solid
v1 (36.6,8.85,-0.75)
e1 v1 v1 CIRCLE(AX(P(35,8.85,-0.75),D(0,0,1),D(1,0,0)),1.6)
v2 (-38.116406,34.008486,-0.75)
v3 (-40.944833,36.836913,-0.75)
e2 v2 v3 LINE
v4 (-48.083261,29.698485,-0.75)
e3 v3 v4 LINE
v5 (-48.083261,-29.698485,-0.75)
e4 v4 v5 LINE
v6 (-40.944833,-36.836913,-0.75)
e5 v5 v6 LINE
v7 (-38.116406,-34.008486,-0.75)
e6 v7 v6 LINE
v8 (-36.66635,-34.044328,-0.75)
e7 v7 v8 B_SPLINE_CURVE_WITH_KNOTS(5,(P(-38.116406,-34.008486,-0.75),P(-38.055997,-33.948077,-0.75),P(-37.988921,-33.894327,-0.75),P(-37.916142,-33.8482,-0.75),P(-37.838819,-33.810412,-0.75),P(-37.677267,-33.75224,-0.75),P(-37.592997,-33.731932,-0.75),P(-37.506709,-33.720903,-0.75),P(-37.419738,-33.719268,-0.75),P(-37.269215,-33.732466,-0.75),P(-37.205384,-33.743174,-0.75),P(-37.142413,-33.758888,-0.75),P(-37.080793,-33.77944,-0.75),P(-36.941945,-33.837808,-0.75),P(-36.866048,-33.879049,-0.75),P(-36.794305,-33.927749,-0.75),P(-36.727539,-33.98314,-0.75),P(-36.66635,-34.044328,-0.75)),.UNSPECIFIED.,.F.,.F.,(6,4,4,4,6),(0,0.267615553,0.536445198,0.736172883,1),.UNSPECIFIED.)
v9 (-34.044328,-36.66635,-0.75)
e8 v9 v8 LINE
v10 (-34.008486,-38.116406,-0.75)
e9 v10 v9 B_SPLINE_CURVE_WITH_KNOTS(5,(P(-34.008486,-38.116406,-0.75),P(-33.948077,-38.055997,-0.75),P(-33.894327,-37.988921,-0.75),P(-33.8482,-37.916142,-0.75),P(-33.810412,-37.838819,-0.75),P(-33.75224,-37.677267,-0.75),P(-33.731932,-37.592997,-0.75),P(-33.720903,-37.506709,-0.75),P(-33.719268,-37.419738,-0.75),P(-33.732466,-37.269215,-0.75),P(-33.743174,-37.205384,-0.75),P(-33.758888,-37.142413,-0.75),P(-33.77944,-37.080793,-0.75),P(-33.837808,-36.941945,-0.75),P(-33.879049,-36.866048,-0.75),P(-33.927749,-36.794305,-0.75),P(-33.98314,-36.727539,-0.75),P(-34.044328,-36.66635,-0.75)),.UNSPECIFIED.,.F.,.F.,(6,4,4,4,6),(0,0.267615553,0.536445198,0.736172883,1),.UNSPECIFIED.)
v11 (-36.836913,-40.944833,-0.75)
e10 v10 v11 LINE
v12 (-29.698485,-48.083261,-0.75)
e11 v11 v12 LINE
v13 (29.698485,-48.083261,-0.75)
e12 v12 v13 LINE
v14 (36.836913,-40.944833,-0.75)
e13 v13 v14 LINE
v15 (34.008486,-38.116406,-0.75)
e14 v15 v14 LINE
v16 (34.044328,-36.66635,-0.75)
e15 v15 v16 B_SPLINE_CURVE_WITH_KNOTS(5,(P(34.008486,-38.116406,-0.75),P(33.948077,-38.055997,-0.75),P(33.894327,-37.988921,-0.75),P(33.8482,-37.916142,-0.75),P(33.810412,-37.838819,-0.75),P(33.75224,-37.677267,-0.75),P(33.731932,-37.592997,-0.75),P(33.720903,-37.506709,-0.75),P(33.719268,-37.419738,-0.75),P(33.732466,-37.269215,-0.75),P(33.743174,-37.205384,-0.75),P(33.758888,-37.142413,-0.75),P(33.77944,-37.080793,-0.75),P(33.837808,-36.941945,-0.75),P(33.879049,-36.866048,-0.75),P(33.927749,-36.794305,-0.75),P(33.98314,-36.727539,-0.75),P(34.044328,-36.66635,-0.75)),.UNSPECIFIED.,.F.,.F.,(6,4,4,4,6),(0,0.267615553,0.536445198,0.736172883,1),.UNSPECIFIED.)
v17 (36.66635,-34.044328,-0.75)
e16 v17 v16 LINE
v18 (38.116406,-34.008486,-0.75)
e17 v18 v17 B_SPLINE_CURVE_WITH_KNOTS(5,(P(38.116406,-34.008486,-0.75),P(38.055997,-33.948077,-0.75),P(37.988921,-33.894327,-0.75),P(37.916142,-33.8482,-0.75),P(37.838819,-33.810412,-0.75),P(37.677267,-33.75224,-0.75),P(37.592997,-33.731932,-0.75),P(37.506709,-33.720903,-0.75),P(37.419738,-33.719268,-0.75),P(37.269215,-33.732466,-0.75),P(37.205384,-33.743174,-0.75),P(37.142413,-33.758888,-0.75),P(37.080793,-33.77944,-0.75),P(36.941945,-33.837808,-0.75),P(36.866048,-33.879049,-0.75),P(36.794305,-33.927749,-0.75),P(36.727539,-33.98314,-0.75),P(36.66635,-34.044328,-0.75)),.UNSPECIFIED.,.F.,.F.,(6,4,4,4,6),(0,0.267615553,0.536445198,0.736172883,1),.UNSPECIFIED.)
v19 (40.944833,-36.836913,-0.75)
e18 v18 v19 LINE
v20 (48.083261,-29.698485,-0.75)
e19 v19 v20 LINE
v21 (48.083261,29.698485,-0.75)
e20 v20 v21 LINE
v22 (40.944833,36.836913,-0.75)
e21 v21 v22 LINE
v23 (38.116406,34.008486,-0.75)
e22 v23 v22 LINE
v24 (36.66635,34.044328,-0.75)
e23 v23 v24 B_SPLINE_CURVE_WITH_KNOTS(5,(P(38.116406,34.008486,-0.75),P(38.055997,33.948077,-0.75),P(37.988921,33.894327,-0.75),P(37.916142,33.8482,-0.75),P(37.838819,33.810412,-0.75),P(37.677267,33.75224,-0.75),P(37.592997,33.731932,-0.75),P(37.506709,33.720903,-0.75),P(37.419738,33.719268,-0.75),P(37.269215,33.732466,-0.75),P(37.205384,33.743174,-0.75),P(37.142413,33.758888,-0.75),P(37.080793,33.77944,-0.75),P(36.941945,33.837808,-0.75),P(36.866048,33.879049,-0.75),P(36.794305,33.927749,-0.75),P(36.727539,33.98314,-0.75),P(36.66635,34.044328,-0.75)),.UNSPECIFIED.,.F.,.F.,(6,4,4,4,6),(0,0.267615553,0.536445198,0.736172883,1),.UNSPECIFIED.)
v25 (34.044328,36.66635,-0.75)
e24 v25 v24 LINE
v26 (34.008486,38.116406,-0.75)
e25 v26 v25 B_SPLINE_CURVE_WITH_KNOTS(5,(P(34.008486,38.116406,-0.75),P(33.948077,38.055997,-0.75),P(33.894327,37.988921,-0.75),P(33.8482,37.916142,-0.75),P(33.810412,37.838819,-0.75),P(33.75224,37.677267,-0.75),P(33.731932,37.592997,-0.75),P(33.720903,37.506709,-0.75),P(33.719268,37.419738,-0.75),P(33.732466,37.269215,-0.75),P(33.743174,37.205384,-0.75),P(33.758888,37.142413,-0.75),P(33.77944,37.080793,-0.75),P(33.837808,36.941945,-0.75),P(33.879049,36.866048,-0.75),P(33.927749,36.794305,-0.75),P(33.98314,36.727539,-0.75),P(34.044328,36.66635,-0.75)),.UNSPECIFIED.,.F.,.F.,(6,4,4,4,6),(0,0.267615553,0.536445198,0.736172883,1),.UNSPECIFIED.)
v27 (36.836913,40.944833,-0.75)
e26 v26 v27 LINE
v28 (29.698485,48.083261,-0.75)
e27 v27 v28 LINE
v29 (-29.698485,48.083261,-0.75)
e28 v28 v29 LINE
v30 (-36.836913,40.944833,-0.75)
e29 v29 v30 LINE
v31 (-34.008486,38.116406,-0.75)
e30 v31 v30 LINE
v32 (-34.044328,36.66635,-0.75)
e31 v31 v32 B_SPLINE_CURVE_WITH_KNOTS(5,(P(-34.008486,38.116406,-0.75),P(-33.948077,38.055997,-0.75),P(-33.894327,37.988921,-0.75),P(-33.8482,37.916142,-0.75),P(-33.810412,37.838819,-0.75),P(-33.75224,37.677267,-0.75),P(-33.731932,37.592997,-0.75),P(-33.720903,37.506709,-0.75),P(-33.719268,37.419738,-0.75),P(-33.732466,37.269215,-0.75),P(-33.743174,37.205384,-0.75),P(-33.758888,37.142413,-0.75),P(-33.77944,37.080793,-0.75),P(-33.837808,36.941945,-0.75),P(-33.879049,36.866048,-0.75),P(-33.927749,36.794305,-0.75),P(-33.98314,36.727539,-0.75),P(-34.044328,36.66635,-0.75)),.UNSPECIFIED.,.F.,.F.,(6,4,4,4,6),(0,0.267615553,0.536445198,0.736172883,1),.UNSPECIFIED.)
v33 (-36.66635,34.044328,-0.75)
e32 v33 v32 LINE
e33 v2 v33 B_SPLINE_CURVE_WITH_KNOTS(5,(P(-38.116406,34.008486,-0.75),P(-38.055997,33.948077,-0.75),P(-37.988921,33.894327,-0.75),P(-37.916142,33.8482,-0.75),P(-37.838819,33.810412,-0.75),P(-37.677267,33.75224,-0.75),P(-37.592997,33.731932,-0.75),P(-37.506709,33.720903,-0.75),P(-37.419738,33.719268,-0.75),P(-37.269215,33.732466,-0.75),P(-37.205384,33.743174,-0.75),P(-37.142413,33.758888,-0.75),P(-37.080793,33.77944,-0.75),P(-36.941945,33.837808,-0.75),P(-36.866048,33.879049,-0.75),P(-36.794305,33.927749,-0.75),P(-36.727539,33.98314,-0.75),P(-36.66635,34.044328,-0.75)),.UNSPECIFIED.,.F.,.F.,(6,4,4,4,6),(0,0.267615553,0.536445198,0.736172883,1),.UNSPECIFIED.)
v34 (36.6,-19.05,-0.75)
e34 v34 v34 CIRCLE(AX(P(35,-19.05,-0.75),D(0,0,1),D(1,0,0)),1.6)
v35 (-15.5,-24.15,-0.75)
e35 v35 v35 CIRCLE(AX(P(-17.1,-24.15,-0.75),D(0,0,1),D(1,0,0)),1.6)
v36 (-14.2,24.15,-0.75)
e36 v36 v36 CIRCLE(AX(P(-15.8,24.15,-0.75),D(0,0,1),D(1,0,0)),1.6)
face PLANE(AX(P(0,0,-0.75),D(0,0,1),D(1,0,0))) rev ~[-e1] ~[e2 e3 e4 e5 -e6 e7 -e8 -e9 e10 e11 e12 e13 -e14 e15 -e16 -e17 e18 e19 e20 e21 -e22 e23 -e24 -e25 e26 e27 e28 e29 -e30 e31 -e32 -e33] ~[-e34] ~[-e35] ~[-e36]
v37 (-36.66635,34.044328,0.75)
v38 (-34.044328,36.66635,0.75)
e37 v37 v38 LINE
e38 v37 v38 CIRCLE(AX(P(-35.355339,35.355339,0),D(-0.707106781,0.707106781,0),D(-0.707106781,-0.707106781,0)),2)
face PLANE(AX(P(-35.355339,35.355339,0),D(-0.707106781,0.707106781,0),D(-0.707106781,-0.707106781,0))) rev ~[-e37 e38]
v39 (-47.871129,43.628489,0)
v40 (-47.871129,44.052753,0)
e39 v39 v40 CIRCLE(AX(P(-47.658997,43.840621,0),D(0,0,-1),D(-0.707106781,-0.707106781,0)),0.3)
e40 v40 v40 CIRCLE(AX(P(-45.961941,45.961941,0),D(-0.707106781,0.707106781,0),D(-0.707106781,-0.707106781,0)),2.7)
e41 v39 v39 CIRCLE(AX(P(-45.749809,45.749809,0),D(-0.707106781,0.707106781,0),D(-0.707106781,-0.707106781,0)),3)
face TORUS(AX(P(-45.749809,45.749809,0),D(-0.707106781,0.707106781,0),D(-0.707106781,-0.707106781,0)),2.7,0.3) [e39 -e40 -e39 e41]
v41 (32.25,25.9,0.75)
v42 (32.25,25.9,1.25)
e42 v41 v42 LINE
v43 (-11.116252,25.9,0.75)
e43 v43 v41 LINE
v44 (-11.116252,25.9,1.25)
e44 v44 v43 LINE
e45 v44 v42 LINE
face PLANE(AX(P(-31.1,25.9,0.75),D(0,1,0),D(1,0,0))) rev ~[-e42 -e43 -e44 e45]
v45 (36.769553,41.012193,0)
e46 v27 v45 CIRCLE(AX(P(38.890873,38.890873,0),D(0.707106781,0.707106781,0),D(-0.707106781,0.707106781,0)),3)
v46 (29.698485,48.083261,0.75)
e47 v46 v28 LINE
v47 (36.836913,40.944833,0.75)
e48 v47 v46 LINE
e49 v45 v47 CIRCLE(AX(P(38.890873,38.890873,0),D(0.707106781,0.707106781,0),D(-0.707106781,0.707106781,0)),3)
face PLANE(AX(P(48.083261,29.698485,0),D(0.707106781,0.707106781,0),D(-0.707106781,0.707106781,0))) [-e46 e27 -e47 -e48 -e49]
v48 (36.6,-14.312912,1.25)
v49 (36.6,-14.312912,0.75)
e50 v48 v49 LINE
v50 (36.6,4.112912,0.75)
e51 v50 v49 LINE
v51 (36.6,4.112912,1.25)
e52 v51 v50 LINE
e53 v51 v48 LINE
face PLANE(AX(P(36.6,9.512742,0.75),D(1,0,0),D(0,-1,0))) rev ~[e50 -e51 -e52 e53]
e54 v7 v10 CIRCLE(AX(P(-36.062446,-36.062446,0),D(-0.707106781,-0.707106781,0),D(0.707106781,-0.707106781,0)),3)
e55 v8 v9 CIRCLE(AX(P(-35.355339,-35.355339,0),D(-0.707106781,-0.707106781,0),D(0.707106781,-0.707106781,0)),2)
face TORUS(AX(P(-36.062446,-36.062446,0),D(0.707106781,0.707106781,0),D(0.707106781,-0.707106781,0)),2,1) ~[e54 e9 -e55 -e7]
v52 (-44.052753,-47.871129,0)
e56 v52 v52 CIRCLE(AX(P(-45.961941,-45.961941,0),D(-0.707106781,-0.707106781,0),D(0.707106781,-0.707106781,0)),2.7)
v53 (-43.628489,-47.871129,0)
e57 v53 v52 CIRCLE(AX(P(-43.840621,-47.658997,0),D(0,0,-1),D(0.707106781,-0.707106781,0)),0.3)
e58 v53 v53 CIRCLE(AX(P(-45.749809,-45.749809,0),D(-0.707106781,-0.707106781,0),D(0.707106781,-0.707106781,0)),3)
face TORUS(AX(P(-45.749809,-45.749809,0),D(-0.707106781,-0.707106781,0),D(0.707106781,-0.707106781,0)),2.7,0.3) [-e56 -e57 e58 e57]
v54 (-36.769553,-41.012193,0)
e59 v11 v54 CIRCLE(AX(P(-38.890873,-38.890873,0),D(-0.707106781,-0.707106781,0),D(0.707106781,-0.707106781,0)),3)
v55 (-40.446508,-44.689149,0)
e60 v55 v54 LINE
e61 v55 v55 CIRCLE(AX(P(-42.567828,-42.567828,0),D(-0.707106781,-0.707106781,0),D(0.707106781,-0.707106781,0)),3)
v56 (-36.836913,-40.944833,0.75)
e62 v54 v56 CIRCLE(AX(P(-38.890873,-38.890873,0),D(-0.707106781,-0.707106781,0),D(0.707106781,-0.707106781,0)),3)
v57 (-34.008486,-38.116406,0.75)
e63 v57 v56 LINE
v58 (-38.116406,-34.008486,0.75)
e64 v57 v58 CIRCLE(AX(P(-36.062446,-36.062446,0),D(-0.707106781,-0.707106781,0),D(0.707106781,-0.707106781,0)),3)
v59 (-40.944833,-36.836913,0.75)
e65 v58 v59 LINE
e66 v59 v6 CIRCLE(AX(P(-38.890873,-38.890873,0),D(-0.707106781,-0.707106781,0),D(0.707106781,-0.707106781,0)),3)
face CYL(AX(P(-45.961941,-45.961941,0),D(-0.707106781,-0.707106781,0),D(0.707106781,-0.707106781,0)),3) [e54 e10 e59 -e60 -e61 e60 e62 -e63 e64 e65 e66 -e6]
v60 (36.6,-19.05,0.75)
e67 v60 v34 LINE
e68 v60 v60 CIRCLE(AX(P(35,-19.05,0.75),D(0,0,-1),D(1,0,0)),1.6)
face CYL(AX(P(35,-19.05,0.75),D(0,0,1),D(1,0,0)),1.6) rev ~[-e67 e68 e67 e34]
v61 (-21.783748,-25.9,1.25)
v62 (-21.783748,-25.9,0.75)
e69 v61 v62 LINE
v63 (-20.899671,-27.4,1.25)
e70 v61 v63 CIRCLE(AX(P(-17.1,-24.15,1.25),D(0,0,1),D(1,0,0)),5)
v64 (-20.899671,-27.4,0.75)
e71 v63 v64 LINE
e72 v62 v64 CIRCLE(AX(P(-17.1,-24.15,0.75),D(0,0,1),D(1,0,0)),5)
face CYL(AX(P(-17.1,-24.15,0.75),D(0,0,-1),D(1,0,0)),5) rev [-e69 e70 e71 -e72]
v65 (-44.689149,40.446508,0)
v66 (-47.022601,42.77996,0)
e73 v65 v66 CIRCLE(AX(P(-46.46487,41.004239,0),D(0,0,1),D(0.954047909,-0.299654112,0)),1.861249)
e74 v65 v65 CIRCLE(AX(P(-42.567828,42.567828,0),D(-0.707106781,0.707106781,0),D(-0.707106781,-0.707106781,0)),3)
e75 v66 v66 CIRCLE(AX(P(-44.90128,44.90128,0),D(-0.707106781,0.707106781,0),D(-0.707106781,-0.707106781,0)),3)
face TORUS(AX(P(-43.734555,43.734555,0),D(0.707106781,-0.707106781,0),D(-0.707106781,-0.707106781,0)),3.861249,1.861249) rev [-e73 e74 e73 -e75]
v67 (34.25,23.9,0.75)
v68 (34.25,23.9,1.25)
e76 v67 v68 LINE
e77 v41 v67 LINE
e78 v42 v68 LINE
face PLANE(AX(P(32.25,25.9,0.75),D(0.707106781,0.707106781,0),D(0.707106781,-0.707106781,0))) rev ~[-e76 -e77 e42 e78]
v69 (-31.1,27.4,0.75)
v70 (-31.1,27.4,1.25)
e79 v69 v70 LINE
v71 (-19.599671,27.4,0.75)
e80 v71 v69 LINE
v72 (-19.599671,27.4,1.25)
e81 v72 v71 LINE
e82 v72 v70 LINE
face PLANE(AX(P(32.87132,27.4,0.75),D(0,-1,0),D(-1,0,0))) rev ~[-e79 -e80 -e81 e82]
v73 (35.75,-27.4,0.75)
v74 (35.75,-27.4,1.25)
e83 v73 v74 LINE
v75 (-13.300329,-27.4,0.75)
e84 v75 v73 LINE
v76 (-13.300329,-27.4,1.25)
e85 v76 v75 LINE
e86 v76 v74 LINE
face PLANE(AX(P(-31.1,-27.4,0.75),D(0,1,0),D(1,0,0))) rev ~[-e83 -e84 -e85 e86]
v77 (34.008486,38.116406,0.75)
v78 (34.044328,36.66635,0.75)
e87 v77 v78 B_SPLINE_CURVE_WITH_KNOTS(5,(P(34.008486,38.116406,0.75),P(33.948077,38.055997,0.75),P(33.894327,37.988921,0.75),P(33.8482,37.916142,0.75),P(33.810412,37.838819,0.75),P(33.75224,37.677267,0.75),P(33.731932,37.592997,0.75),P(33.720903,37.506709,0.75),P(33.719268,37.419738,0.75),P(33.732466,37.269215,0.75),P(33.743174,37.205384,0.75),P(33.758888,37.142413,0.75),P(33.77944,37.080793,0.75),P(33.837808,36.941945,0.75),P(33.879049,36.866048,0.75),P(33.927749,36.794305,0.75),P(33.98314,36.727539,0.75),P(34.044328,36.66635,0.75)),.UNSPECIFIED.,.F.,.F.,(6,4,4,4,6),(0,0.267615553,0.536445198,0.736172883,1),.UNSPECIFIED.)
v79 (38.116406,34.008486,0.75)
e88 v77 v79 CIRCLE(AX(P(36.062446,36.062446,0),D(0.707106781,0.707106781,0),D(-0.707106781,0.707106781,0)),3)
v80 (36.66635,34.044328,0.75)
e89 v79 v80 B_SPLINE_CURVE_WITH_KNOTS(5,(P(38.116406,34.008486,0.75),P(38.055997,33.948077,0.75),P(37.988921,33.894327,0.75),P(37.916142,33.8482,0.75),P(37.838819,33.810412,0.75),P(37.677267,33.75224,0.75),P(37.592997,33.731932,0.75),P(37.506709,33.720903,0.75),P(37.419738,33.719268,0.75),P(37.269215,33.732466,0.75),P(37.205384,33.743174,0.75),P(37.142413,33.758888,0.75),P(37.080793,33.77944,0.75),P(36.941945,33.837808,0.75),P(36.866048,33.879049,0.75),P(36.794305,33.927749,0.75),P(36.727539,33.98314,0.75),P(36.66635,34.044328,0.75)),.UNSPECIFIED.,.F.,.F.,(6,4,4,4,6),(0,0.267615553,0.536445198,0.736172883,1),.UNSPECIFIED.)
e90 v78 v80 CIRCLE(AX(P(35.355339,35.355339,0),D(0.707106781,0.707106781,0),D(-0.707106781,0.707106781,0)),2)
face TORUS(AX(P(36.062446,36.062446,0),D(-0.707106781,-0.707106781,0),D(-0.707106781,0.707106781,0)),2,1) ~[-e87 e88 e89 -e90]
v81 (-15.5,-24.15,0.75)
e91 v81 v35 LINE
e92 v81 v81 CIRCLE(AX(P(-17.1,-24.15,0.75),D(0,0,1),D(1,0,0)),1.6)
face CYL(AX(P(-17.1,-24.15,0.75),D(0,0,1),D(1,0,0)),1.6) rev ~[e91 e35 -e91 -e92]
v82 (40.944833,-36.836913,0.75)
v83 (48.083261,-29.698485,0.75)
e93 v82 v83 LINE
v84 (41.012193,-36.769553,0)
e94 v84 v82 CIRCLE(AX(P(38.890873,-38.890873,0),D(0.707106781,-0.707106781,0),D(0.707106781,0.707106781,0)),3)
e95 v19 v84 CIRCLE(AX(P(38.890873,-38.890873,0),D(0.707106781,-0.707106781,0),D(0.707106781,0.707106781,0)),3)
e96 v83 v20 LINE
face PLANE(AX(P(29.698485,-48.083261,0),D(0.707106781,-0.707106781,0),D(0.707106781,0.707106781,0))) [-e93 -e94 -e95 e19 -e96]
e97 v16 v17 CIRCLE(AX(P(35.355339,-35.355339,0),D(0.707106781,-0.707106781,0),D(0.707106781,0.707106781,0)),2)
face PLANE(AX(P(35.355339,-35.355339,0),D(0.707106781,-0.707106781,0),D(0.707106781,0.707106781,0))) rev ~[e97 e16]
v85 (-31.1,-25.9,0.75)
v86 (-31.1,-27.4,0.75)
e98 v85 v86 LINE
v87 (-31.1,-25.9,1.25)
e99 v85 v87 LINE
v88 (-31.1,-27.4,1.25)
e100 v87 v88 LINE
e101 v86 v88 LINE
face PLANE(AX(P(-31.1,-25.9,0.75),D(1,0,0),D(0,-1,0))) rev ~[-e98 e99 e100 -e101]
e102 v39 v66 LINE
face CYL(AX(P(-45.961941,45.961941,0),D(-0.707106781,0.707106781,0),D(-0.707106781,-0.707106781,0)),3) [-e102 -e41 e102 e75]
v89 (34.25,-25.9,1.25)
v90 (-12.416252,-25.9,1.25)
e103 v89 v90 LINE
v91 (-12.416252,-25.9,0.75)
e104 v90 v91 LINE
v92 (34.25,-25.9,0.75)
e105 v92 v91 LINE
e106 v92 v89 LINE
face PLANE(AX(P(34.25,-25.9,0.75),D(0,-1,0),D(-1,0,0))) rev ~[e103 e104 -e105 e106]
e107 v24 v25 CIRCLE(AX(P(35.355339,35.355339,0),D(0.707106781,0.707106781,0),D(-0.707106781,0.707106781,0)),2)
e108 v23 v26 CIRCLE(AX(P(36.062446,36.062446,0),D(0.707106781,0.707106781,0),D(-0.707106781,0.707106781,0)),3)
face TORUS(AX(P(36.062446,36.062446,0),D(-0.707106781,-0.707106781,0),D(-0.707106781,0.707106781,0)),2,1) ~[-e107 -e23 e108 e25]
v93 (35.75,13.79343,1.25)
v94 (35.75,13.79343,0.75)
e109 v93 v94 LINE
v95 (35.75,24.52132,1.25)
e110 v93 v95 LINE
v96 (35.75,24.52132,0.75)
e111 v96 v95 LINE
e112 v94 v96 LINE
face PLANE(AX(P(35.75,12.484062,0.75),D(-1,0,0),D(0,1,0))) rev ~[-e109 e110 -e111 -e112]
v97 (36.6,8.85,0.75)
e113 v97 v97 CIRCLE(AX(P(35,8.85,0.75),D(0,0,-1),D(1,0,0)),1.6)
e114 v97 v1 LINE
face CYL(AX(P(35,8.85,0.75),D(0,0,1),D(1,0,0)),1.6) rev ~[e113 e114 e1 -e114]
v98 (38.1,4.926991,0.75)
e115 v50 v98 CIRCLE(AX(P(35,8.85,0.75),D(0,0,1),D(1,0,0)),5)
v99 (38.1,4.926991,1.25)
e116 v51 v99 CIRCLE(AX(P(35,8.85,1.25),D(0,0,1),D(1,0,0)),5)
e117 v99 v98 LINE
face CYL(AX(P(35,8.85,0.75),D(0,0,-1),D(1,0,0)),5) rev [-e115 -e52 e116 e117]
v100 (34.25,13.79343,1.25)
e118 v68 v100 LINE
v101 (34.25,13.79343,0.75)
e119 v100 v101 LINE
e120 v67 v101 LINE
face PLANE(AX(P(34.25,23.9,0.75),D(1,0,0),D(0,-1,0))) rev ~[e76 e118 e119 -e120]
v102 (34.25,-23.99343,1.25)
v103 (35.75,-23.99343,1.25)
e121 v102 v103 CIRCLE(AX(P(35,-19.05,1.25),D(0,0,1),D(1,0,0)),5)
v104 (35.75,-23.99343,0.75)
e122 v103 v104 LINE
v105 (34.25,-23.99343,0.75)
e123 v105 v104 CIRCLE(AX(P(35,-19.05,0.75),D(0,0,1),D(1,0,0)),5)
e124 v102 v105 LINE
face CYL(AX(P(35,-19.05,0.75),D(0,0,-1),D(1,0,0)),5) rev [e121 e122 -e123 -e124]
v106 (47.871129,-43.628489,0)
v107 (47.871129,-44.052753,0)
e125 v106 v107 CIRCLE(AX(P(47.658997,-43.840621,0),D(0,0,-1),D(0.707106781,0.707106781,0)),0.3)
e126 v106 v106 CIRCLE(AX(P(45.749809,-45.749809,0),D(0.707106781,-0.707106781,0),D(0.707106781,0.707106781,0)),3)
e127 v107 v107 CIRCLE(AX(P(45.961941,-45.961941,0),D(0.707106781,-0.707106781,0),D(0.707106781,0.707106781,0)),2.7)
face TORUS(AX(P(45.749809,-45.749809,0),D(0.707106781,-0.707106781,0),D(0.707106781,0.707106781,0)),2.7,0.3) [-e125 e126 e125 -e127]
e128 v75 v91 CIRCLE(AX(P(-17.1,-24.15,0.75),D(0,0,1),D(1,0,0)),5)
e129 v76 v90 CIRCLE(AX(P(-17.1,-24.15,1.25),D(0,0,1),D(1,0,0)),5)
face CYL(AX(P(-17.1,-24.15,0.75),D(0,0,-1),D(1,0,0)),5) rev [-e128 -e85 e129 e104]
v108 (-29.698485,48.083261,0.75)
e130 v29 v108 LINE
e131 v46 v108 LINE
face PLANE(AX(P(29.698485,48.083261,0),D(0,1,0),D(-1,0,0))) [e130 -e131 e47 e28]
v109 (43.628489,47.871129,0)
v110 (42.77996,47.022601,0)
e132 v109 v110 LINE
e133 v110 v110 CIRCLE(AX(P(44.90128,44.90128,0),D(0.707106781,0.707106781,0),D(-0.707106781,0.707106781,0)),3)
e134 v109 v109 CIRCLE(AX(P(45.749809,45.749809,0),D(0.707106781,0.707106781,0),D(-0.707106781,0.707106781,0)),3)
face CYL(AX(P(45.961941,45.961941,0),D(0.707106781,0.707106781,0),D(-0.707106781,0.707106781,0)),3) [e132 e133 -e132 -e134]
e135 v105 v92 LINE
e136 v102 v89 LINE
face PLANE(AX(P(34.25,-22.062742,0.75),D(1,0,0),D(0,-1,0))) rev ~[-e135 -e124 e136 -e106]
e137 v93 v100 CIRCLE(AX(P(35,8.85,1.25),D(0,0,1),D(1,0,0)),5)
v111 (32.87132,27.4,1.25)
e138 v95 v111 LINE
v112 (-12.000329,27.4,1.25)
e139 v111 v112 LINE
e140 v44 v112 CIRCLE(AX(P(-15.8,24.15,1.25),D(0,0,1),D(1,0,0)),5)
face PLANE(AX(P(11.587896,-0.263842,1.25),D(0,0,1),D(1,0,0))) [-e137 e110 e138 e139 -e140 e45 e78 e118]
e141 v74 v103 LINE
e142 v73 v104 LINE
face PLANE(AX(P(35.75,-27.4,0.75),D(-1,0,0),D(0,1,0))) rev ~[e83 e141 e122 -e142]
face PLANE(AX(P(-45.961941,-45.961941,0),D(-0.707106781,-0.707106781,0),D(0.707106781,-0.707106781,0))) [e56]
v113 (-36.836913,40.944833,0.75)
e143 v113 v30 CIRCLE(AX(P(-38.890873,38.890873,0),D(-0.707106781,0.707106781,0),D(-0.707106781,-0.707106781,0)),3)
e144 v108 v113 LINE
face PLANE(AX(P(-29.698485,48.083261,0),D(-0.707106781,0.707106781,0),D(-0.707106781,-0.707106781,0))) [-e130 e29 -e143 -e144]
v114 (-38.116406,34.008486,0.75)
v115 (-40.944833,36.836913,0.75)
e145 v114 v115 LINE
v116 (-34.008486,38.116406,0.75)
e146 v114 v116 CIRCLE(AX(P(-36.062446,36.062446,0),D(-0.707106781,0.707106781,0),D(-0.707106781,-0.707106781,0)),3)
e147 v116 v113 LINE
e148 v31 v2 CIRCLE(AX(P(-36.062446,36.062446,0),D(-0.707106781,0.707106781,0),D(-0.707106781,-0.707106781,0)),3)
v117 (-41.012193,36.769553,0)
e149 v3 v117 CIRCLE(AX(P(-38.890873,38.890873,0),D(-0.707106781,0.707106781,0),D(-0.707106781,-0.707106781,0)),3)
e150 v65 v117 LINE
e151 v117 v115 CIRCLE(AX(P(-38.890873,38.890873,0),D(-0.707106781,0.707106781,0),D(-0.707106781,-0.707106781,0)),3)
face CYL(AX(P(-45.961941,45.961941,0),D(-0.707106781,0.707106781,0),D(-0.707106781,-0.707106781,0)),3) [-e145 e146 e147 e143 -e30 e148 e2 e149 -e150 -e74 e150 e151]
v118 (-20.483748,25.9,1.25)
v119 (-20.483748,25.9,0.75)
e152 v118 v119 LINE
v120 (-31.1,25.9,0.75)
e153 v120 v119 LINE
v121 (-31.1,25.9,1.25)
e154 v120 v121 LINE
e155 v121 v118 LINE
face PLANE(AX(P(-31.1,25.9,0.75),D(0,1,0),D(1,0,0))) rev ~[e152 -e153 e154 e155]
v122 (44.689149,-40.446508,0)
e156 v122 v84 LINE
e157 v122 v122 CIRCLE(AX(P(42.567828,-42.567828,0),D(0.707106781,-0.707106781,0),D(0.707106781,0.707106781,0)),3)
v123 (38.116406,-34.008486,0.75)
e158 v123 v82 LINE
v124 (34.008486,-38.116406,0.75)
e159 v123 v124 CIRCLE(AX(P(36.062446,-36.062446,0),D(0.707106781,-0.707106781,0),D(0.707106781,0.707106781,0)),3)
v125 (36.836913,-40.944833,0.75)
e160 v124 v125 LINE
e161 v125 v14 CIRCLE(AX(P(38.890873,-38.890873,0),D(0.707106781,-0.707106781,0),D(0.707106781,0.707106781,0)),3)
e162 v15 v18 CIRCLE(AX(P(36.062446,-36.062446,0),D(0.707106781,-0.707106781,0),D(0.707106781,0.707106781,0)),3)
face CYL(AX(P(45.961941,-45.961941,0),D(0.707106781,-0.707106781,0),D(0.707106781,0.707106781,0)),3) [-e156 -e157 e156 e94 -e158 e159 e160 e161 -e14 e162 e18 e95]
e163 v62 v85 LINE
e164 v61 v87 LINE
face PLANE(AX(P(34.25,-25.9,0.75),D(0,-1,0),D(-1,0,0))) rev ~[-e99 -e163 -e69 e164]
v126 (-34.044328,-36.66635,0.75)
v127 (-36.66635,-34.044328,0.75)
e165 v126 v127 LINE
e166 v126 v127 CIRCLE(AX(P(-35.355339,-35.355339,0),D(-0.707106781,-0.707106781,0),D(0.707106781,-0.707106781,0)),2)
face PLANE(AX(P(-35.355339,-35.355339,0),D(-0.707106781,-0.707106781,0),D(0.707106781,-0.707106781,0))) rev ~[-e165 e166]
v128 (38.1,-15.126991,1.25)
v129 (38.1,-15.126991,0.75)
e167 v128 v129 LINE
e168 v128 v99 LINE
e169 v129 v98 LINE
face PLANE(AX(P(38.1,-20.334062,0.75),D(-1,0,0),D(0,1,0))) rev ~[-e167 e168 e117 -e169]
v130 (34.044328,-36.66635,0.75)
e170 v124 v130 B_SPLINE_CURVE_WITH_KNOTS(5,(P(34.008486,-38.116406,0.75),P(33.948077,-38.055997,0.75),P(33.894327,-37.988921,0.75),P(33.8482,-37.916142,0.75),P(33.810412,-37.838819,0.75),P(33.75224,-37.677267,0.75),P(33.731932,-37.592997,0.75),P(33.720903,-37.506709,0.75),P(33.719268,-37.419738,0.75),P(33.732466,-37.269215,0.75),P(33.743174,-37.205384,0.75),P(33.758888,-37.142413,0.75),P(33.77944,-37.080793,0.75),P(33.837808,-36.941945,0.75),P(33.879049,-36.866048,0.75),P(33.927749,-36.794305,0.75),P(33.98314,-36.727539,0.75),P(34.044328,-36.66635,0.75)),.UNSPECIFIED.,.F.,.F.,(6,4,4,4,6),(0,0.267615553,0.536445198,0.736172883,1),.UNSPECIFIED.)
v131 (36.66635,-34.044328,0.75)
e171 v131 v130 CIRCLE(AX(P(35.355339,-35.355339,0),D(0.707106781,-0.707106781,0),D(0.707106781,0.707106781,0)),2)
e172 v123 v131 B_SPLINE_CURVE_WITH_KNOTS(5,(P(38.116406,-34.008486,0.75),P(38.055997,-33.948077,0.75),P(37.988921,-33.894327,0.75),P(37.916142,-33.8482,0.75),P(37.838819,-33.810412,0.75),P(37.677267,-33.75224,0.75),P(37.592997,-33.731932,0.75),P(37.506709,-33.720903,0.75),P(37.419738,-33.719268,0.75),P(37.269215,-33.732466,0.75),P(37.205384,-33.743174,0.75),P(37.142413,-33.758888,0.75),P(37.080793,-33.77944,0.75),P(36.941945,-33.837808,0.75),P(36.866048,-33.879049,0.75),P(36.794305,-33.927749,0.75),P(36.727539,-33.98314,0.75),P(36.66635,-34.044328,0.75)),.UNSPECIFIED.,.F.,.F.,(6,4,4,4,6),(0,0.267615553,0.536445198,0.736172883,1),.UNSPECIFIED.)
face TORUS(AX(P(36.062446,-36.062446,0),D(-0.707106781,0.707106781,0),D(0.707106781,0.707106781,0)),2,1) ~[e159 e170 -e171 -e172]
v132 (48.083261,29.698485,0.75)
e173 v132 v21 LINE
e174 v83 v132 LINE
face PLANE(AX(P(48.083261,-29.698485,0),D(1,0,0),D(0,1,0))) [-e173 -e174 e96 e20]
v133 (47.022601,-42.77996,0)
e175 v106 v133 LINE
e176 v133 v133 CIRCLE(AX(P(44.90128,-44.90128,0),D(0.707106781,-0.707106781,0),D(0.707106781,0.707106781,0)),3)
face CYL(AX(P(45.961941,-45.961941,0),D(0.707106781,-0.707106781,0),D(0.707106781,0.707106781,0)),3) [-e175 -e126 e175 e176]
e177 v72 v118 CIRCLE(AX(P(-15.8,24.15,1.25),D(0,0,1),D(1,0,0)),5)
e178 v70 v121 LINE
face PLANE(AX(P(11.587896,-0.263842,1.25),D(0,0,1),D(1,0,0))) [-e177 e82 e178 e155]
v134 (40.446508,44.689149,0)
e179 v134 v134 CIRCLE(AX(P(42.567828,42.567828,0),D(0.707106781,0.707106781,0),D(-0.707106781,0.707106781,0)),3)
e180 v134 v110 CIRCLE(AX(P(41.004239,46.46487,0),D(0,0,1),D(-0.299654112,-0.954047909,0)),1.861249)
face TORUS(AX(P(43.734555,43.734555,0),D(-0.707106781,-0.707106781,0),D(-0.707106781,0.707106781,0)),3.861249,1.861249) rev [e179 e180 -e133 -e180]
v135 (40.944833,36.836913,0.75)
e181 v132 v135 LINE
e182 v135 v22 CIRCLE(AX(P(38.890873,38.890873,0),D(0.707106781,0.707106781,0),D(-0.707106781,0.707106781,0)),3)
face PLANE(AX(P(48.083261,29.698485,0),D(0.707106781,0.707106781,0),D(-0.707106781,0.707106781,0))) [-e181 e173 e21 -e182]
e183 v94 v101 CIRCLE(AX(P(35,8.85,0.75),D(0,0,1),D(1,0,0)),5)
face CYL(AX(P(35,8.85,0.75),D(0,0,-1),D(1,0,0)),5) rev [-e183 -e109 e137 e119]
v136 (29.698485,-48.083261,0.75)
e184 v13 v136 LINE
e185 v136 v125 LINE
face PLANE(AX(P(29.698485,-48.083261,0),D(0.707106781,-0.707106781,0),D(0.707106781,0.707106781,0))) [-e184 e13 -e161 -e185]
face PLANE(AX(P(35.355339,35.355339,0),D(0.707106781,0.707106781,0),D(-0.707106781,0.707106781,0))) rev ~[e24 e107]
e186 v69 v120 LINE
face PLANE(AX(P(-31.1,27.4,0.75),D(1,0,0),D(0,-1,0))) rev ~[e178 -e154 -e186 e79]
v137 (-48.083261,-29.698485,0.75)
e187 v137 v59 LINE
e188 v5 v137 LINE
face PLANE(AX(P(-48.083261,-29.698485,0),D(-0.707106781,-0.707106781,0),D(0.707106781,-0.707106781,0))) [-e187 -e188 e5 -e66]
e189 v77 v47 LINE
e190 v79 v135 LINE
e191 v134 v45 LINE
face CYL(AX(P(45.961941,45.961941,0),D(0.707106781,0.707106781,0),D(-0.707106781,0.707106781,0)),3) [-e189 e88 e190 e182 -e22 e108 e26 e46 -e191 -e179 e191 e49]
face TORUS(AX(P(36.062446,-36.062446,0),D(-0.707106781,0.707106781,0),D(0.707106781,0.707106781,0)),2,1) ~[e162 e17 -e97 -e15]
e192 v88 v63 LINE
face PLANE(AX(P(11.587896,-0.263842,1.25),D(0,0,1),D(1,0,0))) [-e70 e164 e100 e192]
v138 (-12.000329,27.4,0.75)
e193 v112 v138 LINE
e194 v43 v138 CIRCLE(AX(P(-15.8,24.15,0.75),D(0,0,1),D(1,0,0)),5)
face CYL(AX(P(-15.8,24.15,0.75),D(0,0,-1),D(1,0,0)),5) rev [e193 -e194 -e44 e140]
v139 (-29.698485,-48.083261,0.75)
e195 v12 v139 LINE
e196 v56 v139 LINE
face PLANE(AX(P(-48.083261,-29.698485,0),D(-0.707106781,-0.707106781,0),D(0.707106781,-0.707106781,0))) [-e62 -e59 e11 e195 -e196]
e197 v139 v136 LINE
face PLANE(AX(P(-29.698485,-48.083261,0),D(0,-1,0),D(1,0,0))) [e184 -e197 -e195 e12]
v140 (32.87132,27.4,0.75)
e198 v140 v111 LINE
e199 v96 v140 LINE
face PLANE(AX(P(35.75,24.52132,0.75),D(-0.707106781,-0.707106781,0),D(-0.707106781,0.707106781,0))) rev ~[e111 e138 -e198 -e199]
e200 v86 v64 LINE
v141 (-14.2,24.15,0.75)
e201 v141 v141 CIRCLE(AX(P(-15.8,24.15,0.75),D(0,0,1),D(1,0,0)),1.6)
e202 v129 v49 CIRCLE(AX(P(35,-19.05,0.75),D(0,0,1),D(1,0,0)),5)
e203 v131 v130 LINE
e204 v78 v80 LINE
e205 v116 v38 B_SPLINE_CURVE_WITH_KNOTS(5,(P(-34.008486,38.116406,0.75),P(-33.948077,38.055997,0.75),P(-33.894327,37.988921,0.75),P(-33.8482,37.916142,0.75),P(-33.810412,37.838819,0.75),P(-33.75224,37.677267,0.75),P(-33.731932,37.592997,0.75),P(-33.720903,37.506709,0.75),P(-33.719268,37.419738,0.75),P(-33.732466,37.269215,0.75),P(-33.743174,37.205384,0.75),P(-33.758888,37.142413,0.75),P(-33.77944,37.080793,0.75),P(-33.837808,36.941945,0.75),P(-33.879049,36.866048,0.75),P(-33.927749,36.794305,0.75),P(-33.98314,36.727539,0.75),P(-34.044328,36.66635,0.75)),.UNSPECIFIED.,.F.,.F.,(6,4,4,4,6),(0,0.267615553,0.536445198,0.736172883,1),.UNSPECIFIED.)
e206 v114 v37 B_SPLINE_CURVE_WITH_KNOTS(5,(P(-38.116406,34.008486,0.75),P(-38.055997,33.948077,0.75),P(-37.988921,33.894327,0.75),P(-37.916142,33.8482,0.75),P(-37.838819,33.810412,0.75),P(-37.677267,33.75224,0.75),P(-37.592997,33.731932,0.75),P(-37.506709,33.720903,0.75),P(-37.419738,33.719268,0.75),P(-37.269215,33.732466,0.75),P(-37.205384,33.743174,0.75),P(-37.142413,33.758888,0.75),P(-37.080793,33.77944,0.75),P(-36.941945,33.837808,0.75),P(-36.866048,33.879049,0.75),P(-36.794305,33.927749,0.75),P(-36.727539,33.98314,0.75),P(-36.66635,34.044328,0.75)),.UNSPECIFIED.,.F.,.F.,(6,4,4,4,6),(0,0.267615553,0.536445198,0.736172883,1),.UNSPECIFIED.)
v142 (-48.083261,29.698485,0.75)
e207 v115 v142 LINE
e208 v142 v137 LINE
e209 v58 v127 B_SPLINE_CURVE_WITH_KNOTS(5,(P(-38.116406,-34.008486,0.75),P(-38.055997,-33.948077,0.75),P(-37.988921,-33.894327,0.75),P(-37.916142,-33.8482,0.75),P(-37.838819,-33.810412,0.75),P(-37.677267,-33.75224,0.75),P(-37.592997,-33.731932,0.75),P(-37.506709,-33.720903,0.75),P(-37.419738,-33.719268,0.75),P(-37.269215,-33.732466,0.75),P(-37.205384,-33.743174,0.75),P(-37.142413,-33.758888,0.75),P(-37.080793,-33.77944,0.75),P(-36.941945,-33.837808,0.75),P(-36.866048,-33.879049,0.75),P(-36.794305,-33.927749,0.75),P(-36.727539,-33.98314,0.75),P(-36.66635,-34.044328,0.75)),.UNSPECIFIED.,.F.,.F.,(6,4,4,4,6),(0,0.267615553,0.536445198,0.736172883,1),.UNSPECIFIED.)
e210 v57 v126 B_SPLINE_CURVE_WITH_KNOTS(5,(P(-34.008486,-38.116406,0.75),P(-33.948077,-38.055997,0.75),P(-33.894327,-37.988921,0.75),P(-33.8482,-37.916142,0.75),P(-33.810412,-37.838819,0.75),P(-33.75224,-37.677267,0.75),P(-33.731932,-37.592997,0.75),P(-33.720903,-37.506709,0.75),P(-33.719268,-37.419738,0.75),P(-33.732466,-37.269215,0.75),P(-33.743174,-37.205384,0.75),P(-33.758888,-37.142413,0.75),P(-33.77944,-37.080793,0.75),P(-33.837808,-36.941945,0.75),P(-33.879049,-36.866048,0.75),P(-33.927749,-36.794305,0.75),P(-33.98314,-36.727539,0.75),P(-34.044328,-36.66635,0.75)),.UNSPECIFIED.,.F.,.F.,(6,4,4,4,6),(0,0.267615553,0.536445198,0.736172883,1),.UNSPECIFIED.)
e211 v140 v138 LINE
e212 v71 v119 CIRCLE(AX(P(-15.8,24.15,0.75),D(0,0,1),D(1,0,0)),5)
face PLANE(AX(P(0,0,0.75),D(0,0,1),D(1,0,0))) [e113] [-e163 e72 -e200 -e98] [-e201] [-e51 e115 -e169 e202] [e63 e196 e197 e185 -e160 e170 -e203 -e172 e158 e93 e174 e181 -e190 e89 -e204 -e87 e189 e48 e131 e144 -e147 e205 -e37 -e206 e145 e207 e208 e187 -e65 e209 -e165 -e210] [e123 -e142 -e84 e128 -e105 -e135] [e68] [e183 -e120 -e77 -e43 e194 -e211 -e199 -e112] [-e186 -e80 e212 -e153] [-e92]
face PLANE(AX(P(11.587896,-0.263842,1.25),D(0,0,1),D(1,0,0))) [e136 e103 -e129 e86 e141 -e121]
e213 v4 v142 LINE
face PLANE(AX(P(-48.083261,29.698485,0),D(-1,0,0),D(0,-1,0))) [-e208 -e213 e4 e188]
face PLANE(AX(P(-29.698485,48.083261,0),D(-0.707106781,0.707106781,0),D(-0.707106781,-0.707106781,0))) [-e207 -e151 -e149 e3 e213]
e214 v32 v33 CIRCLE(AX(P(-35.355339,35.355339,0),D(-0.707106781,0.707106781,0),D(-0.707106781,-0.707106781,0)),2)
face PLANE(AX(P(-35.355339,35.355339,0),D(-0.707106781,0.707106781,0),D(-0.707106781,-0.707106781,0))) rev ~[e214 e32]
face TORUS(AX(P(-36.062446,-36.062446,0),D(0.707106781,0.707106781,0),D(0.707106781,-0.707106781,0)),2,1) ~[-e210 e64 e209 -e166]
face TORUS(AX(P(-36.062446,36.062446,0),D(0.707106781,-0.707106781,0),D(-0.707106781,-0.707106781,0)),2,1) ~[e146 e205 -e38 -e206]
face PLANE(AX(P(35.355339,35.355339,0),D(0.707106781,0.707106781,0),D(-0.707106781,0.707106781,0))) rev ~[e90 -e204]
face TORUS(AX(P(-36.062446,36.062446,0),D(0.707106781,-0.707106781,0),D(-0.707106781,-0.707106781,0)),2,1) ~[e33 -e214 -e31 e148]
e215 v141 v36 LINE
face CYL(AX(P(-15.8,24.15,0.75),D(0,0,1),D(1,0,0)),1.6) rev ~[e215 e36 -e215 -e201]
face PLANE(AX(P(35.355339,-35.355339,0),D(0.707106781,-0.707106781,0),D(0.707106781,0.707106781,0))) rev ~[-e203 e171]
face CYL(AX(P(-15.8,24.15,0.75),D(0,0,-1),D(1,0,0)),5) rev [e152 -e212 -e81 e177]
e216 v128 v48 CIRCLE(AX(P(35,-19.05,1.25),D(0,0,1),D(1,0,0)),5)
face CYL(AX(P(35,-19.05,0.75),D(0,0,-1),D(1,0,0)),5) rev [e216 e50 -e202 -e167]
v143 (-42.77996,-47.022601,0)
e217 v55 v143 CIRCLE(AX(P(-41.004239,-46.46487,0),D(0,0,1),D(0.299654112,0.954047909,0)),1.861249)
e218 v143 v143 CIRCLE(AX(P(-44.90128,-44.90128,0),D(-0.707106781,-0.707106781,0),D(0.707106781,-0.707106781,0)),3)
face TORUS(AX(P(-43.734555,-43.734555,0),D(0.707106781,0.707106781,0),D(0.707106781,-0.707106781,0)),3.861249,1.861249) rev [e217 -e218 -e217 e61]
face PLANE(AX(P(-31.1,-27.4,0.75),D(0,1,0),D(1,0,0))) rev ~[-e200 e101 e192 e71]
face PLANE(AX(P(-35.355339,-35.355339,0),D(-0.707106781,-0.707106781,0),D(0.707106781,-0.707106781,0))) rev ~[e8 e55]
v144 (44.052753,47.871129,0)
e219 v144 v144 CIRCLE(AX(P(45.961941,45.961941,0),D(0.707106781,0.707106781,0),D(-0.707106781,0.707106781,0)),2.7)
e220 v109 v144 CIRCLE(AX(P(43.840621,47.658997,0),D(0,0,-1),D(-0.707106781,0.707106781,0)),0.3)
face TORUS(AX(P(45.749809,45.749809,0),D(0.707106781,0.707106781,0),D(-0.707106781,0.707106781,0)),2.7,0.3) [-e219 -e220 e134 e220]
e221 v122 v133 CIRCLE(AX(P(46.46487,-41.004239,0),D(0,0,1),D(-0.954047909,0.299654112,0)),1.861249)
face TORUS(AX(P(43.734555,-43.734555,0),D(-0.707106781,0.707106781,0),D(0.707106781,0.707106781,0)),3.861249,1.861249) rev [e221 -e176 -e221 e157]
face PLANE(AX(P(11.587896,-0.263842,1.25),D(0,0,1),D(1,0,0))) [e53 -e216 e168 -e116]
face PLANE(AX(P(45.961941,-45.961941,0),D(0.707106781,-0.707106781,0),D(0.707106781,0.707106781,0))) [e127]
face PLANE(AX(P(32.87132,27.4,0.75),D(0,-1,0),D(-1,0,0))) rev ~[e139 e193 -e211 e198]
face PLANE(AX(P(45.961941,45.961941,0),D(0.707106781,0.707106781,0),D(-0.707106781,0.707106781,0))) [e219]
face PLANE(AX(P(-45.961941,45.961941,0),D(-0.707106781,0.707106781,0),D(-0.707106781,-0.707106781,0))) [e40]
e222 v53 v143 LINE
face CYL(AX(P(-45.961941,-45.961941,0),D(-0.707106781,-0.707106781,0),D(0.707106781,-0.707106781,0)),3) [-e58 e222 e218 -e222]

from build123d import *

# Parameters (mm, degrees)
F2_R      = 3
F3_DEPTH  = 15
F6_R      = 0.3
F7_R      = 1
F9_COUNT  = 4
F9_ANGLE  = 270
F11_DEPTH = 0.75
F12_R     = 1.6
F13_DEPTH = 1.5
F15_DEPTH = 0.5
F16_R     = 5
F17_DEPTH = 0.5


with BuildPart() as f3:
    # F2 (on face) → F3 (new body)
    with BuildSketch(Plane(origin=(45.961941, -45.961941, 0), x_dir=(0.707107, 0.707107, 0), z_dir=(0.707107, -0.707107, 0))):
        Circle(F2_R)
    extrude(amount=-F3_DEPTH)

    # F4 (on Top) → F5 (revolve, cut)
    with BuildSketch(Plane.XY):
        with BuildLine():
            ThreePointArc((44.689149, -40.446508), (45.148768, -42.320341), (47.022601, -42.77996))
            Line((47.022601, -42.77996), (44.689149, -40.446508))
        make_face()
    revolve(axis=Axis((40.65864, -40.65864, 0), (0.707107, -0.707107, 0)), mode=Mode.SUBTRACT)

    # F6
    f6_edges = [f3.edges().sort_by_distance(p)[0] for p in [
        (43.84062, -48.083261, 0),
    ]]
    fillet(f6_edges, radius=F6_R)

    # F7
    f7_edges = [f3.edges().sort_by_distance(p)[0] for p in [
        (33.234019, -37.476659, 0),
    ]]
    fillet(f7_edges, radius=F7_R)



with BuildPart() as f9_1:
    # F9: instance of F3
    add(f3.part.rotate(Axis((0, 0, 0), (0, 0, -1)), 1 * F9_ANGLE / (F9_COUNT - 1)))


with BuildPart() as f9_2:
    # F9: instance of F3
    add(f3.part.rotate(Axis((0, 0, 0), (0, 0, -1)), 2 * F9_ANGLE / (F9_COUNT - 1)))


with BuildPart() as f9_3:
    # F9: instance of F3
    add(f3.part.rotate(Axis((0, 0, 0), (0, 0, -1)), 3 * F9_ANGLE / (F9_COUNT - 1)))


with BuildPart() as f3_1:
    add(f3.part)

    add(f9_1.part)  # F11 merges F9_1

    add(f9_2.part)  # F11 merges F9_2

    add(f9_3.part)  # F11 merges F9_3
    # F10 (on Top) → F11 (join, symmetric)
    with BuildSketch(Plane.XY):
        Polygon((29.698485, 48.083261), (-29.698485, 48.083261), (-48.083261, 29.698485), (-48.083261, -29.698485), (-29.698485, -48.083261), (29.698485, -48.083261), (48.083261, -29.698485), (48.083261, 29.698485), align=None)
    extrude(amount=F11_DEPTH, both=True)

    # F12 (on face) → F13 (cut, through all)
    with BuildSketch(Plane.XY.offset(0.75)):
        with Locations((-15.8, 24.15)):
            Circle(F12_R)
        with Locations((35, 8.85)):
            Circle(F12_R)
        with Locations((-17.1, -24.15)):
            Circle(F12_R)
        with Locations((35, -19.05)):
            Circle(F12_R)
    extrude(amount=-F13_DEPTH, mode=Mode.SUBTRACT)

    # F14 (on face) → F15 (join)
    with BuildSketch(Plane.XY.offset(0.75)):
        Polygon((32.87132, 27.4), (-31.1, 27.4), (-31.1, 25.9), (32.25, 25.9), (34.25, 23.9), (34.25, 11.862742), (36.6, 9.512742), (36.6, -19.712742), (34.25, -22.062742), (34.25, -25.9), (-31.1, -25.9), (-31.1, -27.4), (35.75, -27.4), (35.75, -22.684062), (38.1, -20.334062), (38.1, 10.134062), (35.75, 12.484062), (35.75, 24.52132), align=None)
    extrude(amount=F15_DEPTH)

    # F16 (on face) → F17 (cut, through all)
    with BuildSketch(Plane.XY.offset(0.75)):
        with Locations((-15.8, 24.15)):
            Circle(F16_R)
        with Locations((35, 8.85)):
            Circle(F16_R)
        with Locations((35, -19.05)):
            Circle(F16_R)
        with Locations((-17.1, -24.15)):
            Circle(F16_R)
    extrude(amount=F17_DEPTH, mode=Mode.SUBTRACT)


solid = f3_1.part
